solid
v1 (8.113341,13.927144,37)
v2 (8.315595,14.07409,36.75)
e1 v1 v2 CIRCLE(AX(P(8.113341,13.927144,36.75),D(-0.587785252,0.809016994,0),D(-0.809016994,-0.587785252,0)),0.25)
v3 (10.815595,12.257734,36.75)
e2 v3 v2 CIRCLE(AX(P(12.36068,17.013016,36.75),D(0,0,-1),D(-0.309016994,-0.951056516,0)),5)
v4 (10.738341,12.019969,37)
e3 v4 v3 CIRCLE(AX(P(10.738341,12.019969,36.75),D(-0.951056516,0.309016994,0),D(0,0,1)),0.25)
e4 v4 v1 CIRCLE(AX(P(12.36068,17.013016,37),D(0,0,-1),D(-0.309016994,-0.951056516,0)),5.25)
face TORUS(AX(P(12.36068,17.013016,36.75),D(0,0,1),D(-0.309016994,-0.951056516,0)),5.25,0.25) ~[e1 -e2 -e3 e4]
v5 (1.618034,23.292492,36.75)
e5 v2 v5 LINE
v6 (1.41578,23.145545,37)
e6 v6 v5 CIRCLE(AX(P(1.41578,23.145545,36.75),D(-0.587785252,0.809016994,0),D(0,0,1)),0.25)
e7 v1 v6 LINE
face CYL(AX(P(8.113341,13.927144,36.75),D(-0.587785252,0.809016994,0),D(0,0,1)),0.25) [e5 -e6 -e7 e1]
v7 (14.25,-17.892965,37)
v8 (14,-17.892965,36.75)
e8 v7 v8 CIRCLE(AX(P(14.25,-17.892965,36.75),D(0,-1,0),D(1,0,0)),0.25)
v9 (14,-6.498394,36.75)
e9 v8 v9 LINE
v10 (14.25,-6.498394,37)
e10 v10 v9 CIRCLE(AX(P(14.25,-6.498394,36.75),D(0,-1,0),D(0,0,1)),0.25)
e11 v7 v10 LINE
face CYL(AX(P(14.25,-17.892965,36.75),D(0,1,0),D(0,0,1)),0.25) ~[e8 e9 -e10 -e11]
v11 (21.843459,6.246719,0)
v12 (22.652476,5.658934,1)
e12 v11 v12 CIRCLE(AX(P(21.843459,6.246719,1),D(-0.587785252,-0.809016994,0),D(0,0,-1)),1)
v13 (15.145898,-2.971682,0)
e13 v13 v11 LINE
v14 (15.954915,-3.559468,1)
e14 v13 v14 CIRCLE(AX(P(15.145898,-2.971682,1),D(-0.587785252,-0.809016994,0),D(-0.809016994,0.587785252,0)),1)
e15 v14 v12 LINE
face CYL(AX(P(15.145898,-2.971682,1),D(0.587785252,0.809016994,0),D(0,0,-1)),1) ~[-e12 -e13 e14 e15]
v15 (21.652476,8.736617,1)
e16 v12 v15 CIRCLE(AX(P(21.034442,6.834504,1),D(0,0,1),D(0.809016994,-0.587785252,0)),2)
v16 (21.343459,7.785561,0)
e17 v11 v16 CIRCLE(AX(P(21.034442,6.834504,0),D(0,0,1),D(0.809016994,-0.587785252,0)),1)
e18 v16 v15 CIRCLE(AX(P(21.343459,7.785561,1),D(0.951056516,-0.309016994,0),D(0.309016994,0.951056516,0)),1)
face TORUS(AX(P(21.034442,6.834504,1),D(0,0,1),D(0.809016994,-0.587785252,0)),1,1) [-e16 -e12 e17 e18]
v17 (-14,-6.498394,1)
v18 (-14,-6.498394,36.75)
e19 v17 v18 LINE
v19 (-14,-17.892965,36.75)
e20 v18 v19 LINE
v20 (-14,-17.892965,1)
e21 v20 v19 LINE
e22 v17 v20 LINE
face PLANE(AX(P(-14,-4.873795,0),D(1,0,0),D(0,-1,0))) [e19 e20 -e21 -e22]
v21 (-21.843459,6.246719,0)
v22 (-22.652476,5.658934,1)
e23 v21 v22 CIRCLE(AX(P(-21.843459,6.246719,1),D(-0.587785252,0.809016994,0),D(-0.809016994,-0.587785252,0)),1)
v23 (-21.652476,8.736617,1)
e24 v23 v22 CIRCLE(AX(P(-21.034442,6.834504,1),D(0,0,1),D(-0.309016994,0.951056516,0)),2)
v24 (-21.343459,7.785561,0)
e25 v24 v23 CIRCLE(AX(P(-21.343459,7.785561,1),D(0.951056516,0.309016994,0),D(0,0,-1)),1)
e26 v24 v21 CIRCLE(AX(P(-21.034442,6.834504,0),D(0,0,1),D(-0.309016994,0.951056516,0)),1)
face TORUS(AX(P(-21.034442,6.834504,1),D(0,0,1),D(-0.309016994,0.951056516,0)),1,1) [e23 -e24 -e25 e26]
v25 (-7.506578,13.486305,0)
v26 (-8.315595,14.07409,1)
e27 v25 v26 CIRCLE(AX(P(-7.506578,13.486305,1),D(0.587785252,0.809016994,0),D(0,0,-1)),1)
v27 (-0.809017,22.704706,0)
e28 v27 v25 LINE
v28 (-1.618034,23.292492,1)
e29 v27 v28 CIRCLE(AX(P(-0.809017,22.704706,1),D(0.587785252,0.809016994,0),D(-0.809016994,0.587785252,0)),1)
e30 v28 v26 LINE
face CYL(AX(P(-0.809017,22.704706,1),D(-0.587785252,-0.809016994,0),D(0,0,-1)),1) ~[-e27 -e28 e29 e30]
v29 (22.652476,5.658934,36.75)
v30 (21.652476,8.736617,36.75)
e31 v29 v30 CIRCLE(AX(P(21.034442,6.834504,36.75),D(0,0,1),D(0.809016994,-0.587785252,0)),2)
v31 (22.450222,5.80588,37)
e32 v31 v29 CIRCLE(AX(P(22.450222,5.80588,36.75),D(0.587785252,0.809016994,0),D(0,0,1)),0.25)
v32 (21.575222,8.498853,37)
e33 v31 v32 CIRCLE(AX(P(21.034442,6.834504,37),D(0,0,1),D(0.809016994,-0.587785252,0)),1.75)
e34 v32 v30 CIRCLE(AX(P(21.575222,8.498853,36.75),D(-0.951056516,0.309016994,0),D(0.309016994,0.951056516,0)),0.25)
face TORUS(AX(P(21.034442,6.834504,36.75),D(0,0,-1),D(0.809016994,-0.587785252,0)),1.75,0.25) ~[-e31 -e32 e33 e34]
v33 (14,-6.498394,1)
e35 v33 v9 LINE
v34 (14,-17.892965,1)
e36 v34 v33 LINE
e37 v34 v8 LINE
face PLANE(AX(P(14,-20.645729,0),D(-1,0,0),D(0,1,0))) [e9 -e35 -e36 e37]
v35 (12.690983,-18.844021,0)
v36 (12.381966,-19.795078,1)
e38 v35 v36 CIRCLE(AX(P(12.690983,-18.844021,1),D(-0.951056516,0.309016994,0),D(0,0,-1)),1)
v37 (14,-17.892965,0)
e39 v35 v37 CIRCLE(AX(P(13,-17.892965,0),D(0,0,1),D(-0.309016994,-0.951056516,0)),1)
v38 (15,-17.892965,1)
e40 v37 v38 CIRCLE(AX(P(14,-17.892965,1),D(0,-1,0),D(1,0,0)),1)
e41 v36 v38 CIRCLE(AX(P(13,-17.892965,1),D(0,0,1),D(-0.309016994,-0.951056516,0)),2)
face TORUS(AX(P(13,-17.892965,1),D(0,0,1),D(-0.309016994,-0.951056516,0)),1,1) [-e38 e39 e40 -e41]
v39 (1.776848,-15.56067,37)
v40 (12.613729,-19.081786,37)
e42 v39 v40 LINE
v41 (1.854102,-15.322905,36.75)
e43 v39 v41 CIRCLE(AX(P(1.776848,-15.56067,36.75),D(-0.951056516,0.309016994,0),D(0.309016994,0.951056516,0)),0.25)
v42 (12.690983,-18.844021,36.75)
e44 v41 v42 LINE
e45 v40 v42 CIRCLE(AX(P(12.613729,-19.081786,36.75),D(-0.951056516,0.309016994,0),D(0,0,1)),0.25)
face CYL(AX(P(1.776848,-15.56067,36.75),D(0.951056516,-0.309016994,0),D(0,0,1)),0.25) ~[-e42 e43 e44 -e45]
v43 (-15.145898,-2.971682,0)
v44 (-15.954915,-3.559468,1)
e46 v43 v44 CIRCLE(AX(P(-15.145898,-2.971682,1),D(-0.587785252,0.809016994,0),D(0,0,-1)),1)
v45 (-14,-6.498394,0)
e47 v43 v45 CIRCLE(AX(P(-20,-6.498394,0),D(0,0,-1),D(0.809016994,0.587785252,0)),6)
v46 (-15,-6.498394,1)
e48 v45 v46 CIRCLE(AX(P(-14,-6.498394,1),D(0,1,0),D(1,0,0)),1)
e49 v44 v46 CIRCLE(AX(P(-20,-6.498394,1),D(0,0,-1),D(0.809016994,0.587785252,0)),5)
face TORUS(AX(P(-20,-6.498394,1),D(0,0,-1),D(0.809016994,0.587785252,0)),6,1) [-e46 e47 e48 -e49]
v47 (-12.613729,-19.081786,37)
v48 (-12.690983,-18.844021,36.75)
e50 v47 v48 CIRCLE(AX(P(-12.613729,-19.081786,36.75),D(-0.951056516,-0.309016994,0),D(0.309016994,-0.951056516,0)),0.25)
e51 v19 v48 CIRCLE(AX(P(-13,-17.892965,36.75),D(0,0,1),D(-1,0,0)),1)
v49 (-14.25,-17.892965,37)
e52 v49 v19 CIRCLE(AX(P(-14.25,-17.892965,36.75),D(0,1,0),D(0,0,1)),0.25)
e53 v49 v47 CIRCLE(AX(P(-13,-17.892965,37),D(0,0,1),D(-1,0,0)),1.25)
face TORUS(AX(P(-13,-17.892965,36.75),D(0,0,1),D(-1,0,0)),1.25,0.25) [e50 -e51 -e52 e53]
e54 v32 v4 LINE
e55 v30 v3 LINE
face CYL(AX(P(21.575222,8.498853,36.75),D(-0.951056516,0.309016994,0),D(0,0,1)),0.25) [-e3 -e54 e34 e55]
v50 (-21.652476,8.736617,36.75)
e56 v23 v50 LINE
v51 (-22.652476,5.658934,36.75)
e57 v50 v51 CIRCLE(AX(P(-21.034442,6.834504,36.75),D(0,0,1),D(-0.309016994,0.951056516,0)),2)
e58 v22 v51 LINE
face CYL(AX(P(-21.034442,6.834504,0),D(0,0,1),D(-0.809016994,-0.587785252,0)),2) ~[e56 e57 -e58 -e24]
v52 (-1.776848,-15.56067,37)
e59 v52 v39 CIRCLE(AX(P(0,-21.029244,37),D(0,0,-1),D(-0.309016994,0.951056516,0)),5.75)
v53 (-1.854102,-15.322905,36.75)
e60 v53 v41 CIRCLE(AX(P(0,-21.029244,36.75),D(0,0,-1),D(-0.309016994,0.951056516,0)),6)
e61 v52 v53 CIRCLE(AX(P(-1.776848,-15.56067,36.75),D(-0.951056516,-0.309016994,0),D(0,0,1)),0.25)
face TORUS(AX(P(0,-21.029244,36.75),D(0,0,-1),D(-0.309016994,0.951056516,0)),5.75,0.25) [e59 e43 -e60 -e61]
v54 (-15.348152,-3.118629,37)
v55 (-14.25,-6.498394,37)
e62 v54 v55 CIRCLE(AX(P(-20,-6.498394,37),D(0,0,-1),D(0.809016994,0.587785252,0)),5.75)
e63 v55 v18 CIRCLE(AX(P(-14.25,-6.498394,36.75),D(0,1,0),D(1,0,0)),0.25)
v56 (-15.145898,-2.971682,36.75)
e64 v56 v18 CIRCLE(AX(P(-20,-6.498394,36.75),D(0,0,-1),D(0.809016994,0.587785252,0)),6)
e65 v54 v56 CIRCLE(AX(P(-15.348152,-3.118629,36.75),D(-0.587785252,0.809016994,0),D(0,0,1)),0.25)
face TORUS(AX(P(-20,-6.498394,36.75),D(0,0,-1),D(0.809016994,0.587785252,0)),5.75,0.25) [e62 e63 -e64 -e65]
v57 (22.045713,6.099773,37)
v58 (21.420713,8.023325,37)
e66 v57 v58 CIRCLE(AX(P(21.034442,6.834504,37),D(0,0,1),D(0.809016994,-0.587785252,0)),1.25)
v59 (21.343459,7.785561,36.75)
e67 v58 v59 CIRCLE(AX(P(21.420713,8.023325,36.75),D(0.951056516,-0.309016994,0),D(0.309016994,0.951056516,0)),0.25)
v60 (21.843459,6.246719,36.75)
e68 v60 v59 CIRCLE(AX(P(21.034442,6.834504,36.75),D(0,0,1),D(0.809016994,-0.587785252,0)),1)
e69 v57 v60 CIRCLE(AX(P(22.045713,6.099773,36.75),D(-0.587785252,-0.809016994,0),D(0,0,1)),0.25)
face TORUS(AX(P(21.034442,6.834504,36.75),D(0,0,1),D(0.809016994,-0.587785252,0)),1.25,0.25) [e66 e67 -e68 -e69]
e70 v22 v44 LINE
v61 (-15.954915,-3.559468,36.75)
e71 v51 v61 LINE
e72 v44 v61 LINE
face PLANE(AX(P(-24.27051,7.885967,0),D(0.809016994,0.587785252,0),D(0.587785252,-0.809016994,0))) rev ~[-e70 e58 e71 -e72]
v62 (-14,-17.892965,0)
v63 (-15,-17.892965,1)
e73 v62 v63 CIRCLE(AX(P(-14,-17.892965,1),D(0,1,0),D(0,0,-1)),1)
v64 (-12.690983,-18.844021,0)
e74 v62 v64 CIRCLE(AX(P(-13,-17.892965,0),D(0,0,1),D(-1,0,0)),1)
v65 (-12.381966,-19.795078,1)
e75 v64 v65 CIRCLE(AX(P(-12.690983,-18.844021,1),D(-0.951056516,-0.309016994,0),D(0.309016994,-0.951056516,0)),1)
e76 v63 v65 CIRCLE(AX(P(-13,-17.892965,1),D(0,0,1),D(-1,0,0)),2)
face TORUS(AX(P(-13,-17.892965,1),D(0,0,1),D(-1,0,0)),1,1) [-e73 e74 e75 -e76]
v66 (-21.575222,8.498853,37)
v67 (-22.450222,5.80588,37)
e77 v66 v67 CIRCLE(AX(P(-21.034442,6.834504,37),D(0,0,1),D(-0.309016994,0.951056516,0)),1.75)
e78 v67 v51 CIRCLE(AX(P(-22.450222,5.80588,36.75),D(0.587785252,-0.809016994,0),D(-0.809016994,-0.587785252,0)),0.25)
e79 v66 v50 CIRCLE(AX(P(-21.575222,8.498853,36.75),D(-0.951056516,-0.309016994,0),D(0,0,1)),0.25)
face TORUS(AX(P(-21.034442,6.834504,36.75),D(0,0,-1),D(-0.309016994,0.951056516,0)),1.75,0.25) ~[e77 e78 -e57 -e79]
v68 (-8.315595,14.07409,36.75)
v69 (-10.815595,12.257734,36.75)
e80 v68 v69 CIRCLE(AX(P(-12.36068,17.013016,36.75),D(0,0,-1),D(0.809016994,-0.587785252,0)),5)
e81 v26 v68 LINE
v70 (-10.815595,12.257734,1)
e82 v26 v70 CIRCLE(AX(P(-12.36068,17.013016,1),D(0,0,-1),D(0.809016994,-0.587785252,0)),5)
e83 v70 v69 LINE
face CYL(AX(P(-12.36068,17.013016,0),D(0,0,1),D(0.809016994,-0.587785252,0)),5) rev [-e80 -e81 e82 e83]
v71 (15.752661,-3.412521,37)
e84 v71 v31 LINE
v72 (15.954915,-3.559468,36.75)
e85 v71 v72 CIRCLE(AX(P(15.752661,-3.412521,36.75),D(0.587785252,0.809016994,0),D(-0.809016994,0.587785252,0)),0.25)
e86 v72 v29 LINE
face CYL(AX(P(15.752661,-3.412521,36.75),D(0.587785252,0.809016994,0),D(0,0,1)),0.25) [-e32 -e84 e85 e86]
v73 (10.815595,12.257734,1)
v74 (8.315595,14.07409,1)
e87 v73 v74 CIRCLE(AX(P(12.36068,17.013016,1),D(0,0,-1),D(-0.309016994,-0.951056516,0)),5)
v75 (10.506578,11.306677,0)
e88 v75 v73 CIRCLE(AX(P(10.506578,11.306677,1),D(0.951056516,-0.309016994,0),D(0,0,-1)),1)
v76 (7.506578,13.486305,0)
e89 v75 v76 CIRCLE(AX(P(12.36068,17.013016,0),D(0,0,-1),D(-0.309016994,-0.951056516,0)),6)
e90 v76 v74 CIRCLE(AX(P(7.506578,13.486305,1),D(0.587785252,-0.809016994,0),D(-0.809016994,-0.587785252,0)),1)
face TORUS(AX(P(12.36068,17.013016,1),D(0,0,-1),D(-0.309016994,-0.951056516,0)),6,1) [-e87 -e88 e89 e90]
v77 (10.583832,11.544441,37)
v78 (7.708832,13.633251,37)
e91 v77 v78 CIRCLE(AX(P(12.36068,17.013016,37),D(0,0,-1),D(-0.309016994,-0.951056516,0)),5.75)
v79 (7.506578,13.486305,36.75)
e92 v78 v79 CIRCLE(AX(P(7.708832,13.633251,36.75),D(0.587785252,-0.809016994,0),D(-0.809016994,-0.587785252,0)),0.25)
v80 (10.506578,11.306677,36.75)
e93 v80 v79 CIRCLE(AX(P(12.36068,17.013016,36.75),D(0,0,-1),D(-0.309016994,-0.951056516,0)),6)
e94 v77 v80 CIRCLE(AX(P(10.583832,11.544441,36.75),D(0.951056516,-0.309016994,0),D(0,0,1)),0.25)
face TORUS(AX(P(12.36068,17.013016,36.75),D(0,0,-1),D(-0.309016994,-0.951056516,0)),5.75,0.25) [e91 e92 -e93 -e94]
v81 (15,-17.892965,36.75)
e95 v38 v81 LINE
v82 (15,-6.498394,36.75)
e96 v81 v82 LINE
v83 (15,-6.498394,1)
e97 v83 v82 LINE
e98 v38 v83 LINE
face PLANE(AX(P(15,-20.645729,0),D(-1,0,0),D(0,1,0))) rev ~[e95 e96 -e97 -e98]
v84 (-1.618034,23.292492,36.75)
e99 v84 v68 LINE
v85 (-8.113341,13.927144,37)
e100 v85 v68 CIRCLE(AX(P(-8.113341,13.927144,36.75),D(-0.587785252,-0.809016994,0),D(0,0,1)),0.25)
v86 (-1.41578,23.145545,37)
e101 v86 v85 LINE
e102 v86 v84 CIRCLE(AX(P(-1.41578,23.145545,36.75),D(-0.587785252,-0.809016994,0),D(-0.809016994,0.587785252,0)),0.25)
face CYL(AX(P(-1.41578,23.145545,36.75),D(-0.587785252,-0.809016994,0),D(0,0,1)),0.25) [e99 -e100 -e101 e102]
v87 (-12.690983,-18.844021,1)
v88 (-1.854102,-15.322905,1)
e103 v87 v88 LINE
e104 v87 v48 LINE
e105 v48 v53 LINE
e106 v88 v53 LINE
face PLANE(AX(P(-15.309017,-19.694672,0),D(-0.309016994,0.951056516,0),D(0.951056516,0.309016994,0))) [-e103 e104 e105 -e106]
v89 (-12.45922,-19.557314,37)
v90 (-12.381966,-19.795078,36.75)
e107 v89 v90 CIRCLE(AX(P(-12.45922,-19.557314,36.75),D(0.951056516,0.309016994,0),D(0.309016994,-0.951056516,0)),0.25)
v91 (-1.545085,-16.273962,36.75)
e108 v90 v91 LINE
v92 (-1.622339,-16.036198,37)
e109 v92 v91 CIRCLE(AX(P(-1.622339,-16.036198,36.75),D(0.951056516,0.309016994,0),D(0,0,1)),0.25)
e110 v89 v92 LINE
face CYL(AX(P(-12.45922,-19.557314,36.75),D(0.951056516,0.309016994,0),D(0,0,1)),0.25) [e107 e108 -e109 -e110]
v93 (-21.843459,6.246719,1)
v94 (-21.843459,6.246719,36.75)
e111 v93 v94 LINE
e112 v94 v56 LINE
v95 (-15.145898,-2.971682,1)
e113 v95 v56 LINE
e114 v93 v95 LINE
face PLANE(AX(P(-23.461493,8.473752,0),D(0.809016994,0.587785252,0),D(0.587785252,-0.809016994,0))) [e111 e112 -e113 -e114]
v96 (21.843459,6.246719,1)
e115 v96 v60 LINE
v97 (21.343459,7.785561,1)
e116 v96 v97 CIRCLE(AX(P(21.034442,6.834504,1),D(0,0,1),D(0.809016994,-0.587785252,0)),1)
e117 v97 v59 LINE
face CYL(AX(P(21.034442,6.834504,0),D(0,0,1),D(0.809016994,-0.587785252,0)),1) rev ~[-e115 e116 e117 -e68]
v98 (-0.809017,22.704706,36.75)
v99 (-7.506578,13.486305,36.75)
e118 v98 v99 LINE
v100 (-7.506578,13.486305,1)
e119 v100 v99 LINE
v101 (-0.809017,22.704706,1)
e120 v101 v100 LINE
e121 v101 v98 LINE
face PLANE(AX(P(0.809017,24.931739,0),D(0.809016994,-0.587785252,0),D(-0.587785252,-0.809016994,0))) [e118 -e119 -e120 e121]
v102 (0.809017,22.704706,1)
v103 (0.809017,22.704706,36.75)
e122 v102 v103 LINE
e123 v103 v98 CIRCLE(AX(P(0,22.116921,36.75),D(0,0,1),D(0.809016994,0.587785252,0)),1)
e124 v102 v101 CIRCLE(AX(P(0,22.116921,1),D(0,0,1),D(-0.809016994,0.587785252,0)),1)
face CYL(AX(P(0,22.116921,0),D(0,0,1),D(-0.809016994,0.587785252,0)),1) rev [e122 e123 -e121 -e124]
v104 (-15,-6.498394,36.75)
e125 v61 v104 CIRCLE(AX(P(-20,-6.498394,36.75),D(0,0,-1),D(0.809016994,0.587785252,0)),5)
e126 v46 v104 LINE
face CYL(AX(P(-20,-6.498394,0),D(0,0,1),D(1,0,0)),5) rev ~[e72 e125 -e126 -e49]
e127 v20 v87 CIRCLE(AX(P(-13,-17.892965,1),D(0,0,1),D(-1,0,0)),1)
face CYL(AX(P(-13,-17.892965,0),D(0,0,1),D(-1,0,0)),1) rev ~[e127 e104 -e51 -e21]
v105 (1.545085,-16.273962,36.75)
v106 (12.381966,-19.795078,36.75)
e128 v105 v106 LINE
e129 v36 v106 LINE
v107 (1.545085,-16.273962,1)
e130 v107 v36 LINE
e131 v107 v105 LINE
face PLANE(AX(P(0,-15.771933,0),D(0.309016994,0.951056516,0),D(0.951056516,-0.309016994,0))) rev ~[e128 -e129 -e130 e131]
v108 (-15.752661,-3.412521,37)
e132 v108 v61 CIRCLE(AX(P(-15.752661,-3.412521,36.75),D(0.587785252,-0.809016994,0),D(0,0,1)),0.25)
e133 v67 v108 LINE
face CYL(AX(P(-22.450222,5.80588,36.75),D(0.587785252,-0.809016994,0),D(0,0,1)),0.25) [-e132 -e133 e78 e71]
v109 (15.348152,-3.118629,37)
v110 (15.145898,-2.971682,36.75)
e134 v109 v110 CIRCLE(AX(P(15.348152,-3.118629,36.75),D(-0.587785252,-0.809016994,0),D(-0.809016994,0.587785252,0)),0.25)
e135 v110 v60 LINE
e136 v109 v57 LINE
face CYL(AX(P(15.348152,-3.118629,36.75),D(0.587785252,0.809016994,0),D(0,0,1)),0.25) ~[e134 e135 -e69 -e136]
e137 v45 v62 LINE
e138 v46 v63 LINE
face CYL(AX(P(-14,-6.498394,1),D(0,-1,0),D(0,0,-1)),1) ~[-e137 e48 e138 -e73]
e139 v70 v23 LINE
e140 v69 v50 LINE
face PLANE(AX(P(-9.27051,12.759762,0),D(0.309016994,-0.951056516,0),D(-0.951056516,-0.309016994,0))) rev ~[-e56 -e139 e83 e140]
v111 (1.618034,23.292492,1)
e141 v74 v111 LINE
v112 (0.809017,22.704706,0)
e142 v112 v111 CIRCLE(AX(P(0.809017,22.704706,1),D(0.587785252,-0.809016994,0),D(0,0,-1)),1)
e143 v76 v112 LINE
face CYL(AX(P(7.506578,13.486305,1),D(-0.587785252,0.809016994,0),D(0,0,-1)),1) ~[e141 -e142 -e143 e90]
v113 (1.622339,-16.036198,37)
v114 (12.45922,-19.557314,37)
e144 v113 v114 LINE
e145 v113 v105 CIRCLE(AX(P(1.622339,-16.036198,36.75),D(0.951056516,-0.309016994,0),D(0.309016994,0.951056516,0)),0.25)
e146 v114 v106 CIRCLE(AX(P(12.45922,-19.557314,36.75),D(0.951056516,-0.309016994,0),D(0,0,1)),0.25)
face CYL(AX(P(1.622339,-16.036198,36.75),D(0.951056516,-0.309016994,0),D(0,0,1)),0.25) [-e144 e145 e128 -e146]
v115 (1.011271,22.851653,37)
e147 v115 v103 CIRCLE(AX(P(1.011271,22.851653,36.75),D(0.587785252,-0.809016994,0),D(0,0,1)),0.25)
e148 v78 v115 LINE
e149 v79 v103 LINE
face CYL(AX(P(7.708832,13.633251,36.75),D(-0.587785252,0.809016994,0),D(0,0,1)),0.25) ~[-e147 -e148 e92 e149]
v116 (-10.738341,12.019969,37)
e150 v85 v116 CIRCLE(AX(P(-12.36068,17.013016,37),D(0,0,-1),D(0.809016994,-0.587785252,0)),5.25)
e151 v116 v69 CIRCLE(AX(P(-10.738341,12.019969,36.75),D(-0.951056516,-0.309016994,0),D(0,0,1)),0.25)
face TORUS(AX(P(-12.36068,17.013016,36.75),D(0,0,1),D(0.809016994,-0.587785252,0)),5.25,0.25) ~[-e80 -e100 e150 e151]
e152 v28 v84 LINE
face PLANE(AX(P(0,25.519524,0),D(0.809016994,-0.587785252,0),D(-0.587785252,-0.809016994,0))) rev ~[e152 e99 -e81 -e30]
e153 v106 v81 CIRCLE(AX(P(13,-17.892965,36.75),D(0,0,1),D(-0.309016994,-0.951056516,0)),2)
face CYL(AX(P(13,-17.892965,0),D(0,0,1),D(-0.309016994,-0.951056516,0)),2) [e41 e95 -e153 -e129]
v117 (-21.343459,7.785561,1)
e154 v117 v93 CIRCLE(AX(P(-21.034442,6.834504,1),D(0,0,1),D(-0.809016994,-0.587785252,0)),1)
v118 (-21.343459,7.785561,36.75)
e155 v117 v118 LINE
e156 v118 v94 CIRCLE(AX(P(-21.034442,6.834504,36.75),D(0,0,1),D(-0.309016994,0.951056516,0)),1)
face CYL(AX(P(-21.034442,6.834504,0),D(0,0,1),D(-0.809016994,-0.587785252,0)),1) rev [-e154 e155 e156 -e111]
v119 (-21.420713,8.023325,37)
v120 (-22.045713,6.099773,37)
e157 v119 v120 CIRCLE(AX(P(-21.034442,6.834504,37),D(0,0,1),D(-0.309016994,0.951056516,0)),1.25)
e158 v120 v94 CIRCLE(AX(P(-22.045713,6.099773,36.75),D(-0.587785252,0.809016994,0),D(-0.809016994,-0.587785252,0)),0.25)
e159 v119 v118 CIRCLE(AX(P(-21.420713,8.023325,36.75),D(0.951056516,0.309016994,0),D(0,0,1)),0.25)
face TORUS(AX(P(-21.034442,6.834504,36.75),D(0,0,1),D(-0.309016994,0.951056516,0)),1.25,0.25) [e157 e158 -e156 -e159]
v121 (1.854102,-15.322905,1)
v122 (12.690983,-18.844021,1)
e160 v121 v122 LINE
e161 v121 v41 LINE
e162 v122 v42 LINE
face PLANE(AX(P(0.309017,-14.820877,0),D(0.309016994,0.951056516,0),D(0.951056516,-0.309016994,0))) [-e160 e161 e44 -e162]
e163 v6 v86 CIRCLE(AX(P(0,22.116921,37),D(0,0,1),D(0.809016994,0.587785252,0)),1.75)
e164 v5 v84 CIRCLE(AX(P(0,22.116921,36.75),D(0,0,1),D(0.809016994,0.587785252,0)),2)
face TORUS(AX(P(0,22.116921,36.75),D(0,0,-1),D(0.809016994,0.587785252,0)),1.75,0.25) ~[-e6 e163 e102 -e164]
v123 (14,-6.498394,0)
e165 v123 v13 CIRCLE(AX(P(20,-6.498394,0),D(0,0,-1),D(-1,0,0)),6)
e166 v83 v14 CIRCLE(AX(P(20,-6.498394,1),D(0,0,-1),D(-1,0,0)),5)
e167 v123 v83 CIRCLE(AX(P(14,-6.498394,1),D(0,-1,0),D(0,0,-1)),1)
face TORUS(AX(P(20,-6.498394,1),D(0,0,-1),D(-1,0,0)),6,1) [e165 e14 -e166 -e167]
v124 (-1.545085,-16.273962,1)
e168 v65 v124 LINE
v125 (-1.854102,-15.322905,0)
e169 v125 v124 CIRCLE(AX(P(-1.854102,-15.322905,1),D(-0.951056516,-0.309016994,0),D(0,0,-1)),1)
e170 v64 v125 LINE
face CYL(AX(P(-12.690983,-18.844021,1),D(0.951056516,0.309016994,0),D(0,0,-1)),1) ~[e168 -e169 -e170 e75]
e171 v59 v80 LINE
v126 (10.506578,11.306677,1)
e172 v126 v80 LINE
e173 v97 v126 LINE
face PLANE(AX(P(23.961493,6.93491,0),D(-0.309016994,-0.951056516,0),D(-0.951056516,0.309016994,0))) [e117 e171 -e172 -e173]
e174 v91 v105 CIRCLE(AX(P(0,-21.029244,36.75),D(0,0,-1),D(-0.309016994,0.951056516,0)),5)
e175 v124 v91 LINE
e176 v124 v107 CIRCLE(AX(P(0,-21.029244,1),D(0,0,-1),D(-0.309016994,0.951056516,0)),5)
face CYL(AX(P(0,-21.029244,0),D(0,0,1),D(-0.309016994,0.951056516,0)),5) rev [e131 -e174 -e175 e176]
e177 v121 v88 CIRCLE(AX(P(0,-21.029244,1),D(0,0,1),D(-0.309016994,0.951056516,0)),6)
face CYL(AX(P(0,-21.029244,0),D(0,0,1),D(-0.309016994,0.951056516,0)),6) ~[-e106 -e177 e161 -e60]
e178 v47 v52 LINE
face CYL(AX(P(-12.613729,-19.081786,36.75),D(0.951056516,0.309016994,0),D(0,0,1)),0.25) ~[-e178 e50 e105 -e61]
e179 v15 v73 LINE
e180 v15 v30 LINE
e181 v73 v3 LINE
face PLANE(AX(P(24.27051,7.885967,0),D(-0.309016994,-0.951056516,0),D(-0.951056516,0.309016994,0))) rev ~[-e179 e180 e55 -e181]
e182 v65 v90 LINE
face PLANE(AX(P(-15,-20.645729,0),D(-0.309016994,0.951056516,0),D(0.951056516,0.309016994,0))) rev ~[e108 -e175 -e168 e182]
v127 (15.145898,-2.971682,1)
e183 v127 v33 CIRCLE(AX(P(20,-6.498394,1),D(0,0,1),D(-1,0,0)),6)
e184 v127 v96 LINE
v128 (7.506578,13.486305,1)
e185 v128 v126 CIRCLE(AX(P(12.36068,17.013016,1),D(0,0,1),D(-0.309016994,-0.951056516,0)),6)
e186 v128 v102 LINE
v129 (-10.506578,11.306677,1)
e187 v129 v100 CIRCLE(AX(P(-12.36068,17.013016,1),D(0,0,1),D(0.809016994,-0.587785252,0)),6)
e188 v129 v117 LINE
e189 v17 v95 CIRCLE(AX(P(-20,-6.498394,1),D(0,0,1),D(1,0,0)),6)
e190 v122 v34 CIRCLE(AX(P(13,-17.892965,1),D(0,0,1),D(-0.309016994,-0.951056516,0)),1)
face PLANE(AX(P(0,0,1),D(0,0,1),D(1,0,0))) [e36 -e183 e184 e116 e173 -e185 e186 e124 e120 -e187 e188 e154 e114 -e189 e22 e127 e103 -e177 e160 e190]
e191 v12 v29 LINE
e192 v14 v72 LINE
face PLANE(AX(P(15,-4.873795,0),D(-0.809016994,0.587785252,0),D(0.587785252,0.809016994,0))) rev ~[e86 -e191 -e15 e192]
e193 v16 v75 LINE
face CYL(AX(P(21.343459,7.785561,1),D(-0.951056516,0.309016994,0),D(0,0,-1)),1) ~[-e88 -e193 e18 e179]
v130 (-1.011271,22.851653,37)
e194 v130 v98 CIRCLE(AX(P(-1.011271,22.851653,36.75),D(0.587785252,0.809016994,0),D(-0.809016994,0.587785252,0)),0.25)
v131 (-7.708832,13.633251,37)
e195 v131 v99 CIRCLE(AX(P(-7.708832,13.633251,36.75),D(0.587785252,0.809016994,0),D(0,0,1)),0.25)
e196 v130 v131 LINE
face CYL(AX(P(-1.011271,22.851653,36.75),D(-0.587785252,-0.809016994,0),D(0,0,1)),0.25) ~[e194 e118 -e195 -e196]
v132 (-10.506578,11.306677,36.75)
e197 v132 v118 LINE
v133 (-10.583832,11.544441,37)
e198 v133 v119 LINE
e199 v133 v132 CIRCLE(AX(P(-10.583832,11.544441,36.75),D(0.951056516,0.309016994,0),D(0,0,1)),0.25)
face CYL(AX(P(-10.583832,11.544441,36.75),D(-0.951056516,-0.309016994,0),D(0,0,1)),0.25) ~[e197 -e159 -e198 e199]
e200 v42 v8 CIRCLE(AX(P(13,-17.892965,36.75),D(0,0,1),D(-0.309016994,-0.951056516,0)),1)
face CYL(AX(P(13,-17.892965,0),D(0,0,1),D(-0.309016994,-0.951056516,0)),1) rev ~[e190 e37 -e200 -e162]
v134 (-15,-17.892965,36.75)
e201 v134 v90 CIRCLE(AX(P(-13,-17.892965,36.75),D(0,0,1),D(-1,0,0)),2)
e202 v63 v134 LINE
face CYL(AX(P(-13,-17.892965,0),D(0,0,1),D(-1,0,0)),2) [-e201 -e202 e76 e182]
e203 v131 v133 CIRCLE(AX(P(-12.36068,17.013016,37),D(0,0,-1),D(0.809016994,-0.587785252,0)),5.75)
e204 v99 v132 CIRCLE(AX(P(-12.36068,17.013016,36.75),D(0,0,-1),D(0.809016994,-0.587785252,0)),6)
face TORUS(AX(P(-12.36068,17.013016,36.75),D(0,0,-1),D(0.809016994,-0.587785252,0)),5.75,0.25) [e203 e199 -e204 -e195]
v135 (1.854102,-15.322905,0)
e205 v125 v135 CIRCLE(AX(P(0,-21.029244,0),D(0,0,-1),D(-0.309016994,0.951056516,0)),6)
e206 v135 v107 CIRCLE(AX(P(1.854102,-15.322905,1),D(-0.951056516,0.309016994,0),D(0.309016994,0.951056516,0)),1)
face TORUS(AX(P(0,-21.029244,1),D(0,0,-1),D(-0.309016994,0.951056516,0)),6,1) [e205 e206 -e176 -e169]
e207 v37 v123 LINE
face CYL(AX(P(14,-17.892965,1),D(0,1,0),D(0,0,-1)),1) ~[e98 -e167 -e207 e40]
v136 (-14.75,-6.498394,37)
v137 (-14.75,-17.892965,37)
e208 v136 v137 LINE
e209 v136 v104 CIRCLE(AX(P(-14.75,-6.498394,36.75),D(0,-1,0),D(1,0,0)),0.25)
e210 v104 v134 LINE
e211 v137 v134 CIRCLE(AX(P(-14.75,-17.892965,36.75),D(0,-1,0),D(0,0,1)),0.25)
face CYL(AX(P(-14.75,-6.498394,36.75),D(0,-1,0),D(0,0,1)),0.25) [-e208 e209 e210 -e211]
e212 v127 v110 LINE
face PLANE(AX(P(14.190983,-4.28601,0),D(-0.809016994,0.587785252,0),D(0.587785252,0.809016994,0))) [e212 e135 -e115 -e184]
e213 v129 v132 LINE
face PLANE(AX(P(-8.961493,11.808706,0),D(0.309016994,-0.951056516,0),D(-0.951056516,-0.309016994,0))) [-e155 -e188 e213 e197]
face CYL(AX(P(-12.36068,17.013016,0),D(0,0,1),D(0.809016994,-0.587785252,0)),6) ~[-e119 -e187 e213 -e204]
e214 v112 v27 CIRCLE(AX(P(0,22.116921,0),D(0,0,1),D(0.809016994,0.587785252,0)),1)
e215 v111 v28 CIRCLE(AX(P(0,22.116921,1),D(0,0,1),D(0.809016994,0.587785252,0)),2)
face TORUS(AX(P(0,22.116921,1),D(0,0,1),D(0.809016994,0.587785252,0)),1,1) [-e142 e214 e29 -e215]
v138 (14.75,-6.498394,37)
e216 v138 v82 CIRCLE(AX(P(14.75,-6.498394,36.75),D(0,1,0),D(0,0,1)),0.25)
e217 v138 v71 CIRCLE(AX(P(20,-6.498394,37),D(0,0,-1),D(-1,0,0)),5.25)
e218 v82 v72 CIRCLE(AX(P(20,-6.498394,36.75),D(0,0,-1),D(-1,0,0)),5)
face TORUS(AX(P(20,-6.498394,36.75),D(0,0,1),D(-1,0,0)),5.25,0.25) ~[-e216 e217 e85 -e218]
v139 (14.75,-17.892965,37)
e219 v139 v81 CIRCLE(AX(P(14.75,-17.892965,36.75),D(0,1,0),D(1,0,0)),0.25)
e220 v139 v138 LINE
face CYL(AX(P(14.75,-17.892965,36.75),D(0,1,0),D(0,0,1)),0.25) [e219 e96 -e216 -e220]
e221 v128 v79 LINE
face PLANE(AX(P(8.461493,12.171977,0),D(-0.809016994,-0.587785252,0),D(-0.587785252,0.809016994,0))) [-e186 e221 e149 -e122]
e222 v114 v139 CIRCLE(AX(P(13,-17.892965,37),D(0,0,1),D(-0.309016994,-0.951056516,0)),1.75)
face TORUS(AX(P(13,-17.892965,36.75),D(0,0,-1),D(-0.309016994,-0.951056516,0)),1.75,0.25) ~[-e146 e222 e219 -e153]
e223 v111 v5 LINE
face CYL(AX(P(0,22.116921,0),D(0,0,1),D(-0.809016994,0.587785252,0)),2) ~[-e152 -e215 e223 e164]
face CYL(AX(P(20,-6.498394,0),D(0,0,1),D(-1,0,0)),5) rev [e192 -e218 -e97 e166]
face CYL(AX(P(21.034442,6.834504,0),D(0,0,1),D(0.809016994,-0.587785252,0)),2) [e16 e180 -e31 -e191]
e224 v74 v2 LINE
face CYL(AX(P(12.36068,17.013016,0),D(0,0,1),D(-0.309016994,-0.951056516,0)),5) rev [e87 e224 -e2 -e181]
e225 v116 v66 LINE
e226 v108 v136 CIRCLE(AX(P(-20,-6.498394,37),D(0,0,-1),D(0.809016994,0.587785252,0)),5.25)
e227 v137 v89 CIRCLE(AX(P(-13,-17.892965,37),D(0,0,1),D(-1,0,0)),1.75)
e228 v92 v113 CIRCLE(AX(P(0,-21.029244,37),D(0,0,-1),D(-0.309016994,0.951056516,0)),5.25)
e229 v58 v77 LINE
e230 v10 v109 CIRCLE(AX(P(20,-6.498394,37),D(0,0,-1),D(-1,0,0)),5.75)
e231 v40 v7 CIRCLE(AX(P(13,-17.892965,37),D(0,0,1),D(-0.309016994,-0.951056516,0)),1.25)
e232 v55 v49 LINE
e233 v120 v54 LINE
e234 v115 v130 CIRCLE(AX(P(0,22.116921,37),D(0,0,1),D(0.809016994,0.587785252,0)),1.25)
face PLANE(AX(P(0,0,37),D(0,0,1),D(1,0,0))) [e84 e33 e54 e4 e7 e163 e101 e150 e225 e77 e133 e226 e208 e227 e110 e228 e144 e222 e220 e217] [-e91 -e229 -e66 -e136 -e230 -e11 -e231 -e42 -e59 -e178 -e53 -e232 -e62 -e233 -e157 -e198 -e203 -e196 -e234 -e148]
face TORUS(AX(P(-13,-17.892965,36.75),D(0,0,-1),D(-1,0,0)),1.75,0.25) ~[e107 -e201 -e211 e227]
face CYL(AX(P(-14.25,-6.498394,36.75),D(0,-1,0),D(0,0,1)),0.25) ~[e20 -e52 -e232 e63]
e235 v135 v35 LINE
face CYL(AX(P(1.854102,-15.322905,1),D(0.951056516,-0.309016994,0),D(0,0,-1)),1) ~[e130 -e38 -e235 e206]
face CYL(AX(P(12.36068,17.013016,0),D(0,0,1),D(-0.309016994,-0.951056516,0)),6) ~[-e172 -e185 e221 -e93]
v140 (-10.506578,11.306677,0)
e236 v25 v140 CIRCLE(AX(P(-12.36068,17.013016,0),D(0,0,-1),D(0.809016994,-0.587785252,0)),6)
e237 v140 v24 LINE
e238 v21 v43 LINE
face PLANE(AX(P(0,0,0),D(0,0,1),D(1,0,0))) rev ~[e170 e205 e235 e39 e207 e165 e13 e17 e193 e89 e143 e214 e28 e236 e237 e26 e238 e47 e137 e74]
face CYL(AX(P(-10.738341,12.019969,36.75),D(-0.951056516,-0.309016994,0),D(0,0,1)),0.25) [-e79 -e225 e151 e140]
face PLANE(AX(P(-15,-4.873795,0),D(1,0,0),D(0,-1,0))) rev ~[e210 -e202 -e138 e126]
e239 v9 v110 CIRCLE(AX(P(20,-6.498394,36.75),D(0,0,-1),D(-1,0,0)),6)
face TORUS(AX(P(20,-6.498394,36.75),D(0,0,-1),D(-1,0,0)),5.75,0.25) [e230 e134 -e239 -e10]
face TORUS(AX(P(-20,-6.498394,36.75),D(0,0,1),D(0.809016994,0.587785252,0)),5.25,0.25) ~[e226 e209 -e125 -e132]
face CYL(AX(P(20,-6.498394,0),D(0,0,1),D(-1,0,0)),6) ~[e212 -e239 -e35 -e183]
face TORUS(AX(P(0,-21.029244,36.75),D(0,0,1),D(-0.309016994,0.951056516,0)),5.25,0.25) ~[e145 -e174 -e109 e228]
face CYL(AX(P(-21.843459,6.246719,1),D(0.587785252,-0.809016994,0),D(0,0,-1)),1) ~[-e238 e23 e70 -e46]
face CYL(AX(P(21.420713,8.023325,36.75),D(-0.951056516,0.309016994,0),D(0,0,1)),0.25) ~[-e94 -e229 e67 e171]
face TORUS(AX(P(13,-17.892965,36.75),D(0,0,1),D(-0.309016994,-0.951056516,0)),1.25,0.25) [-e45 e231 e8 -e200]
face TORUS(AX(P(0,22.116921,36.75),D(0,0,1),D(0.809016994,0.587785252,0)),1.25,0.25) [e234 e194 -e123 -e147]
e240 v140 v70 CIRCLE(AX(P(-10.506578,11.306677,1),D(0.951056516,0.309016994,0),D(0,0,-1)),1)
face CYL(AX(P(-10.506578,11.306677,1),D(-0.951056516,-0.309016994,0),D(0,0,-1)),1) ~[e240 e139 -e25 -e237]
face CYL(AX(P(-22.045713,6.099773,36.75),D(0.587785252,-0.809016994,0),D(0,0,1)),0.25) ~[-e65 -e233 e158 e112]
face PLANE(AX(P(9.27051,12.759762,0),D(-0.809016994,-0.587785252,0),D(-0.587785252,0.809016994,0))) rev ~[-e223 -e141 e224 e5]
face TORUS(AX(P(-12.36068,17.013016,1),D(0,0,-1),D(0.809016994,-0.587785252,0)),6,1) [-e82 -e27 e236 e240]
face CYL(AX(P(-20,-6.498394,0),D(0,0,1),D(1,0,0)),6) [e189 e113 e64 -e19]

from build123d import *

# Parameters (mm, degrees)
F1_DEPTH = 37
F2_R     = 5
F3_R     = 2
F4_T     = -1
F5_R     = 1
F6_R     = 0.25


with BuildPart() as f1:
    # F0 (on Top) → F1 (new body)
    with BuildSketch(Plane.XY):
        Polygon((-15, -4.8737954435), (-15, -20.6457288071), (0, -15.7719333636), (15, -20.6457288071), (15, -4.8737954435), (24.2705098312, 7.8859666818), (9.2705098312, 12.7597621253), (0, 25.5195242506), (-9.2705098312, 12.7597621253), (-24.2705098312, 7.8859666818), align=None)
    extrude(amount=F1_DEPTH)

    # F2
    f2_edges = [f1.edges().sort_by_distance(p)[0] for p in [
        (9.27051, 12.759762, 18.5),
        (-9.27051, 12.759762, 18.5),
        (-15, -4.873795, 18.5),
        (0, -15.771933, 18.5),
        (15, -4.873795, 18.5),
    ]]
    fillet(f2_edges, radius=F2_R)

    # F3
    f3_edges = [f1.edges().sort_by_distance(p)[0] for p in [
        (-15, -20.645729, 18.5),
        (15, -20.645729, 18.5),
        (24.27051, 7.885967, 18.5),
        (0, 25.519524, 18.5),
        (-24.27051, 7.885967, 18.5),
    ]]
    fillet(f3_edges, radius=F3_R)

    # F4
    f4_openings = [f1.faces().sort_by_distance(p)[0] for p in [
        (0, 0, 37),
    ]]
    offset(amount=F4_T, openings=f4_openings)

    # F5
    f5_edges = [f1.edges().sort_by_distance(p)[0] for p in [
        (-16.234035, 10.497176, 0),
        (-22.936555, 7.452538, 0),
        (-9.421754, 12.967931, 0),
        (-19.303695, 1.049733, 0),
        (-4.966814, 18.683291, 0),
        (-15.244717, -4.953309, 0),
        (0, 24.116921, 0),
        (-15, -12.195679, 0),
        (4.966814, 18.683291, 0),
        (-14.175571, -19.510999, 0),
        (9.421754, 12.967931, 0),
        (-6.963525, -18.03452, 0),
        (16.234035, 10.497176, 0),
        (0, -16.029244, 0),
        (22.936555, 7.452538, 0),
        (6.963525, -18.03452, 0),
        (19.303695, 1.049733, 0),
        (14.175571, -19.510999, 0),
        (15.244717, -4.953309, 0),
        (15, -12.195679, 0),
    ]]
    fillet(f5_edges, radius=F5_R)

    # F6
    f6_edges = [f1.edges().sort_by_distance(p)[0] for p in [
        (-16.234035, 10.497176, 37),
        (-22.936555, 7.452538, 37),
        (-19.303695, 1.049733, 37),
        (-15.244717, -4.953309, 37),
        (-15, -12.195679, 37),
        (-14.175571, -19.510999, 37),
        (-6.963525, -18.03452, 37),
        (0, -16.029244, 37),
        (6.963525, -18.03452, 37),
        (14.175571, -19.510999, 37),
        (15, -12.195679, 37),
        (15.244717, -4.953309, 37),
        (19.303695, 1.049733, 37),
        (22.936555, 7.452538, 37),
        (16.234035, 10.497176, 37),
        (9.421754, 12.967931, 37),
        (4.966814, 18.683291, 37),
        (0, 24.116921, 37),
        (-4.966814, 18.683291, 37),
        (-9.421754, 12.967931, 37),
        (-15.925018, 9.546119, 37),
        (-8.833968, 12.158914, 37),
        (-4.157797, 18.095505, 37),
        (0, 23.116921, 37),
        (4.157797, 18.095505, 37),
        (8.833968, 12.158914, 37),
        (15.925018, 9.546119, 37),
        (21.985498, 7.143521, 37),
        (18.494678, 1.637518, 37),
        (14.293661, -4.644292, 37),
        (14, -12.195679, 37),
        (13.587785, -18.701982, 37),
        (7.272542, -17.083463, 37),
        (0, -15.029244, 37),
        (-7.272542, -17.083463, 37),
        (-13.587785, -18.701982, 37),
        (-14, -12.195679, 37),
        (-14.293661, -4.644292, 37),
        (-18.494678, 1.637518, 37),
        (-21.985498, 7.143521, 37),
    ]]
    fillet(f6_edges, radius=F6_R)


solid = f1.part
